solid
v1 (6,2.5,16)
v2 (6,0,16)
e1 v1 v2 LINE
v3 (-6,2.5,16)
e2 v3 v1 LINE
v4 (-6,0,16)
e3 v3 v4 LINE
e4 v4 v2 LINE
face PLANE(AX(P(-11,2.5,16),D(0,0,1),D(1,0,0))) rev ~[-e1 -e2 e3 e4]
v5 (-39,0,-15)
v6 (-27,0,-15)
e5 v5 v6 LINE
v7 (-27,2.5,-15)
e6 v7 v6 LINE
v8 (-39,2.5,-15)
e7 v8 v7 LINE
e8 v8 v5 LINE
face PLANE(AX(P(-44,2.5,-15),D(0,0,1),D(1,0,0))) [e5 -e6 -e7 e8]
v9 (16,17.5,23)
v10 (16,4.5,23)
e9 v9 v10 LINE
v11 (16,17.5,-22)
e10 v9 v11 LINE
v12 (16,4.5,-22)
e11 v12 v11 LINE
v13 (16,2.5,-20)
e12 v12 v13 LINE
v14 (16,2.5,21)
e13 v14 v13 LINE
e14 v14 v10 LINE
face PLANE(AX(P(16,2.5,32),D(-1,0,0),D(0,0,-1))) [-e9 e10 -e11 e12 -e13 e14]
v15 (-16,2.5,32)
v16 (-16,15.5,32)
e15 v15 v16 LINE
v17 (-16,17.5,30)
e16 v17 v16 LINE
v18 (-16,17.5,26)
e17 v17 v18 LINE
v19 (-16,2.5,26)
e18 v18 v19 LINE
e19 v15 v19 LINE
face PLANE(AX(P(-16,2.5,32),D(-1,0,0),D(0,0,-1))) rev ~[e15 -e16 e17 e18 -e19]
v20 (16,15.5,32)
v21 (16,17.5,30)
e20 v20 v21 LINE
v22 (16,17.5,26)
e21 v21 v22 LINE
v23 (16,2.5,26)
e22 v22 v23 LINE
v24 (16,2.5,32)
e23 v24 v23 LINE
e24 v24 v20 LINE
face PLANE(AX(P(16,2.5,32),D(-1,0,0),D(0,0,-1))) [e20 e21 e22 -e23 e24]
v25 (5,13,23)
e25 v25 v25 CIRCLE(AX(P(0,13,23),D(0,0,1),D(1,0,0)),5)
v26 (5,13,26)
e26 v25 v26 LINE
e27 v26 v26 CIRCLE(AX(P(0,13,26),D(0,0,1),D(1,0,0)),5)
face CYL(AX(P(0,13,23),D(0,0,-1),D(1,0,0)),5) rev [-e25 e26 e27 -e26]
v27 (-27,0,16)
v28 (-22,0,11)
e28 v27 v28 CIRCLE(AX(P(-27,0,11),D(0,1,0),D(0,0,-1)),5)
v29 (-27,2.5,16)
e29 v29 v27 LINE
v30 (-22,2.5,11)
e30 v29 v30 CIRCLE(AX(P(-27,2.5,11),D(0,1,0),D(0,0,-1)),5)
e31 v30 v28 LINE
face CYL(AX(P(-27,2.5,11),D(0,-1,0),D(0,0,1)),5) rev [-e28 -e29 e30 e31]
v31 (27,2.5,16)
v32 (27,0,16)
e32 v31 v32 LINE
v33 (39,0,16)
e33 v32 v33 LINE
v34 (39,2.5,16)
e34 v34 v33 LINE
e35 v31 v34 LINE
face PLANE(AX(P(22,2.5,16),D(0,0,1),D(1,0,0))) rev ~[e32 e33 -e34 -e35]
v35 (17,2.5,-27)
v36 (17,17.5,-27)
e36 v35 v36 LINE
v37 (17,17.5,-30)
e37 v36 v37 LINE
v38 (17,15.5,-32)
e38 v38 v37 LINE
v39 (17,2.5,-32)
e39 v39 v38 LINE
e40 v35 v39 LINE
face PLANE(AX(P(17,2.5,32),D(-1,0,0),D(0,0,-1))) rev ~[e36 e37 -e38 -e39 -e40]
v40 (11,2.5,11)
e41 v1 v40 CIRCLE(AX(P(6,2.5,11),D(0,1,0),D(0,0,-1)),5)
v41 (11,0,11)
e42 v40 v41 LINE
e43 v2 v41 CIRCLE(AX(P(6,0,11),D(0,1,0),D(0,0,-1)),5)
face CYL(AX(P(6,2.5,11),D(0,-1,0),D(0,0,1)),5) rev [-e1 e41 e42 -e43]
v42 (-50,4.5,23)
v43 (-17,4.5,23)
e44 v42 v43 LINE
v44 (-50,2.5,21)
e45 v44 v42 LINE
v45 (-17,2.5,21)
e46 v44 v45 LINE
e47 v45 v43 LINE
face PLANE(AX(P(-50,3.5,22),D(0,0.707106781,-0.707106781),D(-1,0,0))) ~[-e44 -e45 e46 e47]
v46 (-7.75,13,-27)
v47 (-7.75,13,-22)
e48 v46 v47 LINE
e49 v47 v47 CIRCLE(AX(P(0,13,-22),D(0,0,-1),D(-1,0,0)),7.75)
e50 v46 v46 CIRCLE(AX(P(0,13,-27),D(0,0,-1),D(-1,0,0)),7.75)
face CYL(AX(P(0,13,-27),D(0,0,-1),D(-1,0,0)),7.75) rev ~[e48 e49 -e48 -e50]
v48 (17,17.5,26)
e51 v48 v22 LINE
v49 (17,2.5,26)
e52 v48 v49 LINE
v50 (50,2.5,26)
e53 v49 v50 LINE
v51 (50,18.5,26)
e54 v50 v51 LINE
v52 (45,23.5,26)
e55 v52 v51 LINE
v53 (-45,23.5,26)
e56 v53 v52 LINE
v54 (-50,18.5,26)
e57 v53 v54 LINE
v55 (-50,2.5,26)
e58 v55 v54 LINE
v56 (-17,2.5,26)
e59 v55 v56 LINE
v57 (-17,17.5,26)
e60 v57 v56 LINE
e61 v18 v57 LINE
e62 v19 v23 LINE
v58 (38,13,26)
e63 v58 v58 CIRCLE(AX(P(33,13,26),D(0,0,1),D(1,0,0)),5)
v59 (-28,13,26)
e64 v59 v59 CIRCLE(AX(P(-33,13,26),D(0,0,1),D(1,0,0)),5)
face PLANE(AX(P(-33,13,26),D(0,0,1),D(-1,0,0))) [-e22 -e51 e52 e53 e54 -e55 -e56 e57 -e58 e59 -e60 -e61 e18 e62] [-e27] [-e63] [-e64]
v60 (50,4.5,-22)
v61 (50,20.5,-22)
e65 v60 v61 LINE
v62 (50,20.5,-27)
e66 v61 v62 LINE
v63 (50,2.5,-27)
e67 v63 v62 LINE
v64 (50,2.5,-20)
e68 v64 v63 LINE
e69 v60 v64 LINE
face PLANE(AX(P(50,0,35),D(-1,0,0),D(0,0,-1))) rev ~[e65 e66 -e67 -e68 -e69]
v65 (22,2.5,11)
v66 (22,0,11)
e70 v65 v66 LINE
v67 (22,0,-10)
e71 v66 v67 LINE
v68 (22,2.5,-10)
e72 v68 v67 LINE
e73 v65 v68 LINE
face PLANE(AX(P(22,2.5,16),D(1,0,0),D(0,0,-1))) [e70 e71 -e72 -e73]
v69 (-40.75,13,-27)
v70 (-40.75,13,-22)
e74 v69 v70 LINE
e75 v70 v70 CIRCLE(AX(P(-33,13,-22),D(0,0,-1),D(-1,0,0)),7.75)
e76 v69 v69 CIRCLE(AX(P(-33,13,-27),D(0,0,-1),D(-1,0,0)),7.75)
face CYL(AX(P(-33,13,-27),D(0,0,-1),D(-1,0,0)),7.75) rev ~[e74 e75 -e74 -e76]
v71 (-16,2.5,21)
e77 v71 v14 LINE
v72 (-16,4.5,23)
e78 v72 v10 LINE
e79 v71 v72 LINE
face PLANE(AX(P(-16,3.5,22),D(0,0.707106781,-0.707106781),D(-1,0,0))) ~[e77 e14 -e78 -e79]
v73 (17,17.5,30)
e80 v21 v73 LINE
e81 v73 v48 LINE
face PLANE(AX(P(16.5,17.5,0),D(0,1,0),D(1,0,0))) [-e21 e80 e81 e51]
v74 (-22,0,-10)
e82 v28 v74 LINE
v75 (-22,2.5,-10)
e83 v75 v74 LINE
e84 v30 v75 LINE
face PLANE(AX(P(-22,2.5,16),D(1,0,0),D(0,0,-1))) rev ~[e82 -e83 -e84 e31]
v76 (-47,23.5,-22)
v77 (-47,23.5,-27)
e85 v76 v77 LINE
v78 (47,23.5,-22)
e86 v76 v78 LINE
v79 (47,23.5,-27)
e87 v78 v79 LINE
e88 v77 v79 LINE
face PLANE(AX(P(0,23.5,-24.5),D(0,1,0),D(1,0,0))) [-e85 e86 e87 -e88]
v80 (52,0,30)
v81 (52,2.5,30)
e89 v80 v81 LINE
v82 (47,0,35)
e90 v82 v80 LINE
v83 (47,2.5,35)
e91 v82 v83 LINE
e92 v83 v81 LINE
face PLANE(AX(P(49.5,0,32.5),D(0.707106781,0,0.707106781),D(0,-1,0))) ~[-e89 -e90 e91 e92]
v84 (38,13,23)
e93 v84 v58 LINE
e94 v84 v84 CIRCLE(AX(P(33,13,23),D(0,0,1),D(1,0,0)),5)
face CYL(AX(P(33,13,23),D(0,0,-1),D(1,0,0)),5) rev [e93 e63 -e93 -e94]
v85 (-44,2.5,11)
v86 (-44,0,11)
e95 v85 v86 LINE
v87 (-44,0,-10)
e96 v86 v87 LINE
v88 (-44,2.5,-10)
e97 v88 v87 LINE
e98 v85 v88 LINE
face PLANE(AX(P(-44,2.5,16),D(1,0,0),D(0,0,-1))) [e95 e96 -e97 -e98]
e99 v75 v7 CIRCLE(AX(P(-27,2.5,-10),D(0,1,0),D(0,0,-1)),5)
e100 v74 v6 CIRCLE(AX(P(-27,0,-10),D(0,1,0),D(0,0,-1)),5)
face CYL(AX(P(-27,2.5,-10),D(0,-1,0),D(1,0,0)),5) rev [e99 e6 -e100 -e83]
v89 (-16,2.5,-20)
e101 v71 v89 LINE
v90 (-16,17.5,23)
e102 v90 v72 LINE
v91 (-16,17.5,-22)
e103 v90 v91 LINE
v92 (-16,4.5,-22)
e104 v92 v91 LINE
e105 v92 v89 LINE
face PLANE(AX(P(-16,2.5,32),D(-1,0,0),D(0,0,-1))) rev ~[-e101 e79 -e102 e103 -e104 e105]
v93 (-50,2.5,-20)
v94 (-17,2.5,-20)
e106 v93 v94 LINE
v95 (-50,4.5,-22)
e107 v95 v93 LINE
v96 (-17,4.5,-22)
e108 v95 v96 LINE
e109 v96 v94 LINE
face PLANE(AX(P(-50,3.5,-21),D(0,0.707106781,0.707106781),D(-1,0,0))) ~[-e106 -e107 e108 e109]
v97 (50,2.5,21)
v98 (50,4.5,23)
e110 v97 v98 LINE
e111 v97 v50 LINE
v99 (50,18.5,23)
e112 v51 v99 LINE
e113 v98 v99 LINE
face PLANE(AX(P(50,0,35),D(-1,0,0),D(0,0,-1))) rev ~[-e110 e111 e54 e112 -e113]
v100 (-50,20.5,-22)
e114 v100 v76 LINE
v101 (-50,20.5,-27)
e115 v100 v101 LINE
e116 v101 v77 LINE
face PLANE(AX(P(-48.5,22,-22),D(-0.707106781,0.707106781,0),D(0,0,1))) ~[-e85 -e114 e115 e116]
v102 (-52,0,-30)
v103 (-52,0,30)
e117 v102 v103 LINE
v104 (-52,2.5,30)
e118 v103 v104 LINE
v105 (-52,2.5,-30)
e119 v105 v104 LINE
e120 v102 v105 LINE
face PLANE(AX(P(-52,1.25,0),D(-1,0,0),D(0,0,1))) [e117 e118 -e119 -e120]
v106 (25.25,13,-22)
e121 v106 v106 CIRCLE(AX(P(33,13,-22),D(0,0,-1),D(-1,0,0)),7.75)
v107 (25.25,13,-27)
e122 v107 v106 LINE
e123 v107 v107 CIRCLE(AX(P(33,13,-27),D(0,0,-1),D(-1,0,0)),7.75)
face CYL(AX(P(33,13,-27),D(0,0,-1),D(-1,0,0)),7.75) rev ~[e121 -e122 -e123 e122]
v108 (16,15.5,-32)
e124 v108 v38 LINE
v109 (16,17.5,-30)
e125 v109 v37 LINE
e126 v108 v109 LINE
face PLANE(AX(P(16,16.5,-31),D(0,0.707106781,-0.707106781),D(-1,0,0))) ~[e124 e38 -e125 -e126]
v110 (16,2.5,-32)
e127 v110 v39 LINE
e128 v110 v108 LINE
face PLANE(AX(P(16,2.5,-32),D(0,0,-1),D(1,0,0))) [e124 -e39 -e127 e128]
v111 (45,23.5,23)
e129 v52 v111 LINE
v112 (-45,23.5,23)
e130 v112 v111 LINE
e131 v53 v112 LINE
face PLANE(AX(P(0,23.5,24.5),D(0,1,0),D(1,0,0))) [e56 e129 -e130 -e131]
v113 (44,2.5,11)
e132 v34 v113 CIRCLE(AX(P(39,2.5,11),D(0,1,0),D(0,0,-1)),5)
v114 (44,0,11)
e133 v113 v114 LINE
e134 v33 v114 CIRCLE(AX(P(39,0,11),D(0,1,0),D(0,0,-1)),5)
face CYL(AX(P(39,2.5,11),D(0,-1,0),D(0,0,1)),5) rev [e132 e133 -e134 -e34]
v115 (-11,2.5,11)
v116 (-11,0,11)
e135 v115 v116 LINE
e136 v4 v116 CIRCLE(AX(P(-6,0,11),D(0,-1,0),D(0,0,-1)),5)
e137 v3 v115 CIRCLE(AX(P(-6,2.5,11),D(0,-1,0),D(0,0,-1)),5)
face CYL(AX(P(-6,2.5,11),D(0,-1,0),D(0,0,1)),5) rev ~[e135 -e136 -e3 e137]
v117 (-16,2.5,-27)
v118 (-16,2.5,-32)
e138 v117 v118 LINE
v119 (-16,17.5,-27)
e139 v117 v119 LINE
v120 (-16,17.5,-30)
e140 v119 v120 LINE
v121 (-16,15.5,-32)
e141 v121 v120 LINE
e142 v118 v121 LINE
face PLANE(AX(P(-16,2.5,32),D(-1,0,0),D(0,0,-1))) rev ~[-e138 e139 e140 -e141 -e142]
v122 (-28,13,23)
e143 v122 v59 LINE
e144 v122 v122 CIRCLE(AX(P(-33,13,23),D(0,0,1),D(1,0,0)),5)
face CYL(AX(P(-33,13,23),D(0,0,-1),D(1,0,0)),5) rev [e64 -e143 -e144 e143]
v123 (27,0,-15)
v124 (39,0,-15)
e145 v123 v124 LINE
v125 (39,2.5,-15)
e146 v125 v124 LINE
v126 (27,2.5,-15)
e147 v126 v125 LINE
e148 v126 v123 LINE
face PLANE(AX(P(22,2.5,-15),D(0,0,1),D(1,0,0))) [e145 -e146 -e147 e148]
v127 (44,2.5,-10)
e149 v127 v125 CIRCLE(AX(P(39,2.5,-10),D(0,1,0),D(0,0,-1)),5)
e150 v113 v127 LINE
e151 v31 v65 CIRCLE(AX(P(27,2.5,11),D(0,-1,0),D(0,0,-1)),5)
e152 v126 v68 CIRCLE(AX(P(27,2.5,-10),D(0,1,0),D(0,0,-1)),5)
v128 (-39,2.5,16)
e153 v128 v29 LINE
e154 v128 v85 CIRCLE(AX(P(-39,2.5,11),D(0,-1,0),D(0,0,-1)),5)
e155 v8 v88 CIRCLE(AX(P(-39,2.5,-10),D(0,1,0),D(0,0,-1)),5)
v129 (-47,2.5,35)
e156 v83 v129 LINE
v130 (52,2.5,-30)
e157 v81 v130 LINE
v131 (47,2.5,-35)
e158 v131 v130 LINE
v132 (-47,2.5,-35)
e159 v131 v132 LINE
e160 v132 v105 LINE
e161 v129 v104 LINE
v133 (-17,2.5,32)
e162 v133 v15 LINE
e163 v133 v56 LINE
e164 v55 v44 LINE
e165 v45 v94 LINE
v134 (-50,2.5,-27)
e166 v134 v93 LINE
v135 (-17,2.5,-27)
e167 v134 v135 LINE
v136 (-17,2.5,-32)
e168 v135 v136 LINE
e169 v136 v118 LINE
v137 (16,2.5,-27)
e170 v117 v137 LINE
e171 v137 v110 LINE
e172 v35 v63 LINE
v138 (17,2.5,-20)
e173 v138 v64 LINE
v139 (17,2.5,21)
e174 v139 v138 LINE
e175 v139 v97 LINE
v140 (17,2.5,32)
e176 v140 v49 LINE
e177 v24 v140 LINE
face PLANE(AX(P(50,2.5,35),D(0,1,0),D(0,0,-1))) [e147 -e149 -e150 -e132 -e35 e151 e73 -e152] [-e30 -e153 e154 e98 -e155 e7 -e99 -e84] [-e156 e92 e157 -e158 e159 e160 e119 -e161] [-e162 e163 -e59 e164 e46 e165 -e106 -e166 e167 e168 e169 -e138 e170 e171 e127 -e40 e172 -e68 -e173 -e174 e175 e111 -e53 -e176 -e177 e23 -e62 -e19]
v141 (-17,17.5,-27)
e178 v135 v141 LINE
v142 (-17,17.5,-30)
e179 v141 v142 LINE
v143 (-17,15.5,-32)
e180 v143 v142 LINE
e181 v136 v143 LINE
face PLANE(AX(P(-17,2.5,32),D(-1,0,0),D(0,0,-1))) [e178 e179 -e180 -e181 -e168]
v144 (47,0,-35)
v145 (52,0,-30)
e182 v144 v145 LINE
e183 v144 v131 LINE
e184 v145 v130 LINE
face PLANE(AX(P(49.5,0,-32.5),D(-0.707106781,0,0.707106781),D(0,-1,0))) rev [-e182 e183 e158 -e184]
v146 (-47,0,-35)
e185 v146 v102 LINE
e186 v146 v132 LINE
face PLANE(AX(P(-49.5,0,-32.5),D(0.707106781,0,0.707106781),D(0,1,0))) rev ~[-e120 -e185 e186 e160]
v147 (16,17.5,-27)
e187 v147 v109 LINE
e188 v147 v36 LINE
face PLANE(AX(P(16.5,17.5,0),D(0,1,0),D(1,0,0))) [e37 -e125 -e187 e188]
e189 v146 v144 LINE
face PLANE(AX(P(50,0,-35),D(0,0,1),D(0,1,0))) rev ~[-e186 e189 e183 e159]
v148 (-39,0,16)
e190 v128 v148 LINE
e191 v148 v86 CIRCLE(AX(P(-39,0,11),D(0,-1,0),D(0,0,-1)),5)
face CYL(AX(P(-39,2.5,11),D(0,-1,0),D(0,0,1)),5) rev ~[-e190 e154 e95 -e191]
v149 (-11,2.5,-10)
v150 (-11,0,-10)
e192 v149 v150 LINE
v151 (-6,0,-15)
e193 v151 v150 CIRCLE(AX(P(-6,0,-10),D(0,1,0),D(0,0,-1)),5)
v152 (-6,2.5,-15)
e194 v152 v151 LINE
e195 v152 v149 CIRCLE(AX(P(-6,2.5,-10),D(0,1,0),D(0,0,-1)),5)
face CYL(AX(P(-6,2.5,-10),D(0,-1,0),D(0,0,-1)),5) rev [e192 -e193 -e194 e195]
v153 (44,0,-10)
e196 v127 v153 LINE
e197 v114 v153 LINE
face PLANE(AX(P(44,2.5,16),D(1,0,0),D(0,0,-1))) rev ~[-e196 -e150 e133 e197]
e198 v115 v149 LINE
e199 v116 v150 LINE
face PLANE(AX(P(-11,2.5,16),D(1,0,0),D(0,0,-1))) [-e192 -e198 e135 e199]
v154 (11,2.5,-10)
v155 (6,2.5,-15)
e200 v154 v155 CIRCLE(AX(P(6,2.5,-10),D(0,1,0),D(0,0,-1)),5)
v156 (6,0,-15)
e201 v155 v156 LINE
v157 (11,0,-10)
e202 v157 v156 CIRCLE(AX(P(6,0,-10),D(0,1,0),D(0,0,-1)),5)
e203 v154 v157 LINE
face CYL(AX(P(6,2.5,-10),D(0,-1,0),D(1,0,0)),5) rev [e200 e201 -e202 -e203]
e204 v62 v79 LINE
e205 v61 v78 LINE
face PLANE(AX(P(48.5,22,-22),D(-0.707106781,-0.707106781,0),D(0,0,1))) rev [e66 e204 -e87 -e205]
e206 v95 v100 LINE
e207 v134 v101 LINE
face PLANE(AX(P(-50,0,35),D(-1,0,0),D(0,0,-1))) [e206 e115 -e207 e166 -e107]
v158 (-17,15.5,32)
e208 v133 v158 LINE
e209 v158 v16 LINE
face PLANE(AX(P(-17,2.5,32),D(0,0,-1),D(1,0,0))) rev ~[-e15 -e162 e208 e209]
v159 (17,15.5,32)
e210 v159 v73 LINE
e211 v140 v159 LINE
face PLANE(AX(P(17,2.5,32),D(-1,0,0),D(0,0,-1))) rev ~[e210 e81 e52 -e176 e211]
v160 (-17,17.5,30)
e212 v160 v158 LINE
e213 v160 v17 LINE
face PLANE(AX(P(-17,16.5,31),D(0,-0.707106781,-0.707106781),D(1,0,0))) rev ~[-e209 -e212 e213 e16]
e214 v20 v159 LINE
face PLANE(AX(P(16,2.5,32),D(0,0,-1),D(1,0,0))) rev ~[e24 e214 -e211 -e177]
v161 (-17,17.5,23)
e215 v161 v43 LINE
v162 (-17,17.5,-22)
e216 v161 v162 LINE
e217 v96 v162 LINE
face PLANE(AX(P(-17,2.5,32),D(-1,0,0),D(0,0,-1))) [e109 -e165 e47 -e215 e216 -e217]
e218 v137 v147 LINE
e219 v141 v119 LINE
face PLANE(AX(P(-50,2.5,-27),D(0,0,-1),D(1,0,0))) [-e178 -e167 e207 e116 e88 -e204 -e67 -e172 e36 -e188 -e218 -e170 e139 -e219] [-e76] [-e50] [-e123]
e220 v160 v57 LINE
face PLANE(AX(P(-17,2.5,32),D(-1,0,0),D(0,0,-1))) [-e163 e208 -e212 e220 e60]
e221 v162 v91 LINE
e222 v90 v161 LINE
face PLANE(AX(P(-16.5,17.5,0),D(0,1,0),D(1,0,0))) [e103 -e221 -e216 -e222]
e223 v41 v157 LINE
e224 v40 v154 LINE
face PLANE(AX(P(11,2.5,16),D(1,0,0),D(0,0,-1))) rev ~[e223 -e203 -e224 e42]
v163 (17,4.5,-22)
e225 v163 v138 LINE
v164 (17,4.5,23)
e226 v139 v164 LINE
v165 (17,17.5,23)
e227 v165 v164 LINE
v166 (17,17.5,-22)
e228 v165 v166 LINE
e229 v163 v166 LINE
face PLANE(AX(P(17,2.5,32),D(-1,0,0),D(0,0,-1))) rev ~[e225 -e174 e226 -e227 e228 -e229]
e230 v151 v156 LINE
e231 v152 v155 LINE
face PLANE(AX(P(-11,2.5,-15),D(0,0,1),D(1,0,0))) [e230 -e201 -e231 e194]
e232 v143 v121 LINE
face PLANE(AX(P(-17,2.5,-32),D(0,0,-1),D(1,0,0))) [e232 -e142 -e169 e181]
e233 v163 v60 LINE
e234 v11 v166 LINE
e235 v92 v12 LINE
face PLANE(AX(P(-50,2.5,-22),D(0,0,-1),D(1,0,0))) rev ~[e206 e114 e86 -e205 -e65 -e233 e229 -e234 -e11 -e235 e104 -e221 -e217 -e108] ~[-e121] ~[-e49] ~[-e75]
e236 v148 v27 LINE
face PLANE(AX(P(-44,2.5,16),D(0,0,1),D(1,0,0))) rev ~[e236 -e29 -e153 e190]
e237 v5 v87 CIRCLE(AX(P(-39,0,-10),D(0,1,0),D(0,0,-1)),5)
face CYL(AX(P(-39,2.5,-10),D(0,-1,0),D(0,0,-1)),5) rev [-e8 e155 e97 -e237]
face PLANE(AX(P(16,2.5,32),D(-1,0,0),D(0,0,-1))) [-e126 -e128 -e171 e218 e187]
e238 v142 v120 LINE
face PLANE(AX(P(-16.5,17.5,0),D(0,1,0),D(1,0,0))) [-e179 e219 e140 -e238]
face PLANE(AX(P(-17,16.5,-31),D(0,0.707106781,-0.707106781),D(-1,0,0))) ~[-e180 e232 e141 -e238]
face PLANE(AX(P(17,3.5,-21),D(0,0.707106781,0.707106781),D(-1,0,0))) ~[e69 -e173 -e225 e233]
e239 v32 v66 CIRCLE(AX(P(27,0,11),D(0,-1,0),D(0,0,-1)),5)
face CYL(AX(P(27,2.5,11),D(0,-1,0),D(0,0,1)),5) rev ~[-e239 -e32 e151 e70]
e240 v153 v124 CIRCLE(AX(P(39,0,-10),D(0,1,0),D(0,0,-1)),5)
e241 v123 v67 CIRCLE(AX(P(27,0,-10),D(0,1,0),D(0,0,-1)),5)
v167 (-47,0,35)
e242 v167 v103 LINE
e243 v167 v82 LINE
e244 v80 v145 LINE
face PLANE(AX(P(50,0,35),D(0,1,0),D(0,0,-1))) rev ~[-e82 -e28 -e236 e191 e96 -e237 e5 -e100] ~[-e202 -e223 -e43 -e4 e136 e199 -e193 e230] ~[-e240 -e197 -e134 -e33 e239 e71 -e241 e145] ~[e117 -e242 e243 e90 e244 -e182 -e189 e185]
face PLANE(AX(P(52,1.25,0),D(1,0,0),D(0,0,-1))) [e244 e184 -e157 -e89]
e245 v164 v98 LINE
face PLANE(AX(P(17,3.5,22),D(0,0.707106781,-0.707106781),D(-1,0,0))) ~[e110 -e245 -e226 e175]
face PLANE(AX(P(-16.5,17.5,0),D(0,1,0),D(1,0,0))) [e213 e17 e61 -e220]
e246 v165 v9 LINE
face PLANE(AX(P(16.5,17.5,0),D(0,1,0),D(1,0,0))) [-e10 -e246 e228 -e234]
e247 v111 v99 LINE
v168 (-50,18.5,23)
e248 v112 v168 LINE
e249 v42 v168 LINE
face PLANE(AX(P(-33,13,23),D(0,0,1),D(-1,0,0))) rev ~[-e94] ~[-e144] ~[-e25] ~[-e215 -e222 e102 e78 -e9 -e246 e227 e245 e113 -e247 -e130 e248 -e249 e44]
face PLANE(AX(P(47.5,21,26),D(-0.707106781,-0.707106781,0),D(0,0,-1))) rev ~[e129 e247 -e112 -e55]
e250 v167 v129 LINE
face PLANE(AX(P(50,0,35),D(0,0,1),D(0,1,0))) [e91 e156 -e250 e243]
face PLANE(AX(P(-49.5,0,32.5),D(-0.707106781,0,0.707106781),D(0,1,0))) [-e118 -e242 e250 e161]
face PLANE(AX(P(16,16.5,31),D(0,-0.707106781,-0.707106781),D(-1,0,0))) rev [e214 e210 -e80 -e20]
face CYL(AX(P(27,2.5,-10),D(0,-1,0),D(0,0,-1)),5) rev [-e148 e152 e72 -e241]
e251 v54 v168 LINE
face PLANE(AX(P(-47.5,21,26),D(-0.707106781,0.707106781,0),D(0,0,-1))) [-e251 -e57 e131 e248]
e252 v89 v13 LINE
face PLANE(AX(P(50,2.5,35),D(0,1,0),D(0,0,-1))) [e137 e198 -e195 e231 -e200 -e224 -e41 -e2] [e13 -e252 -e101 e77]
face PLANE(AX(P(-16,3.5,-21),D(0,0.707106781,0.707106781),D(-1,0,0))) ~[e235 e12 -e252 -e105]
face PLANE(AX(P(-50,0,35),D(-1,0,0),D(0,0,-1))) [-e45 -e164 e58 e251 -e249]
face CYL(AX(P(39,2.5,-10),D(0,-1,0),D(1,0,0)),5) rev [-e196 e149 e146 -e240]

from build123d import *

# Parameters (mm, degrees)
SKETCH1_W           = 100
SKETCH1_H           = 70
BOSS_EXTRUDE1_DEPTH = 2.5
SKETCH2_W           = 100
SKETCH2_H           = 5
SKETCH2_H_2         = 3
BOSS_EXTRUDE2_DEPTH = 21
SKETCH3_R           = 7.75
CUT_EXTRUDE1_DEPTH  = 61
BOSS_EXTRUDE3_START = -3
SKETCH4_R           = 7.75
SKETCH4_R_2         = 5
BOSS_EXTRUDE3_DEPTH = 3
SKETCH5_W           = 70
SKETCH5_H           = 2.5
BOSS_EXTRUDE4_DEPTH = 2
SKETCH6_W           = 70
SKETCH6_H           = 2.5
BOSS_EXTRUDE5_DEPTH = 2
CHAMFER1_SIZE       = 5
SKETCH9_W           = 1
SKETCH9_H           = 64
BOSS_EXTRUDE8_DEPTH = 15
CHAMFER3_SIZE       = 2
CHAMFER4_SIZE       = 3
CHAMFER5_SIZE       = 2
SKETCH11_W          = 22
SKETCH11_H          = 31
CUT_EXTRUDE2_DEPTH  = 10
FILLET1_R           = 5


with BuildPart() as part:
    # Sketch1 → Boss-Extrude1 (new body)
    with BuildSketch(Plane(origin=(0, 0, 0), x_dir=(1, 0, 0), z_dir=(0, 1, 0))):
        Rectangle(SKETCH1_W, SKETCH1_H)
    extrude(amount=BOSS_EXTRUDE1_DEPTH)

    # Sketch2 → Boss-Extrude2 (add)
    with BuildSketch(Plane(origin=(0, 2.5, 0), x_dir=(1, 0, 0), z_dir=(0, 1, 0))):
        with Locations((0, 24.5)):
            Rectangle(SKETCH2_W, SKETCH2_H)
        with Locations((0, -24.5)):
            Rectangle(SKETCH2_W, SKETCH2_H_2)
    extrude(amount=BOSS_EXTRUDE2_DEPTH)

    # Sketch3 → Cut-Extrude1 (cut)
    with BuildSketch(Plane(origin=(0, 0, -27), x_dir=(-1, 0, 0), z_dir=(0, 0, -1))):
        with Locations((-33, 13)):
            Circle(SKETCH3_R)
        with Locations((0, 13)):
            Circle(SKETCH3_R)
        with Locations((33, 13)):
            Circle(SKETCH3_R)
    extrude(amount=-CUT_EXTRUDE1_DEPTH, mode=Mode.SUBTRACT)

    # Sketch4 → Boss-Extrude3 (add)
    # profile 1 of 3: a face of its own
    with BuildSketch(Plane.XY.offset(26).offset(BOSS_EXTRUDE3_START)):
        with Locations(Location((-33, 13, 0), (0, 0, 180))):
            Circle(SKETCH4_R)
        with Locations((-33, 13)):
            Circle(SKETCH4_R_2, mode=Mode.SUBTRACT)
    # profile 2 of 3: a face of its own
    with BuildSketch(Plane.XY.offset(26).offset(BOSS_EXTRUDE3_START)):
        with Locations(Location((0, 13, 0), (0, 0, 180))):
            Circle(SKETCH4_R)
        with Locations((0, 13)):
            Circle(SKETCH4_R_2, mode=Mode.SUBTRACT)
    # profile 3 of 3: a face of its own
    with BuildSketch(Plane.XY.offset(26).offset(BOSS_EXTRUDE3_START)):
        with Locations(Location((33, 13, 0), (0, 0, 180))):
            Circle(SKETCH4_R)
        with Locations((33, 13)):
            Circle(SKETCH4_R_2, mode=Mode.SUBTRACT)
    extrude(amount=BOSS_EXTRUDE3_DEPTH)

    # Sketch5 → Boss-Extrude4 (add)
    with BuildSketch(Plane.ZY.offset(50)):
        with Locations((0, 1.25)):
            Rectangle(SKETCH5_W, SKETCH5_H)
    extrude(amount=BOSS_EXTRUDE4_DEPTH)

    # Sketch6 → Boss-Extrude5 (add)
    with BuildSketch(Plane(origin=(50, 0, 0), x_dir=(0, 0, -1), z_dir=(1, 0, 0))):
        with Locations((0, 1.25)):
            Rectangle(SKETCH6_W, SKETCH6_H)
    extrude(amount=BOSS_EXTRUDE5_DEPTH)

    # Chamfer1
    chamfer1_edges = [part.edges().sort_by_distance(p)[0] for p in [
        (52, 1.25, -35),
        (52, 1.25, 35),
        (-50, 23.5, 24.5),
        (50, 23.5, 24.5),
        (-52, 1.25, -35),
        (-52, 1.25, 35),
    ]]
    chamfer(chamfer1_edges, length=CHAMFER1_SIZE)

    # Sketch9 → Boss-Extrude8 (add)
    with BuildSketch(Plane(origin=(0, 2.5, 0), x_dir=(1, 0, 0), z_dir=(0, 1, 0))):
        with Locations((-16.5, 0)):
            Rectangle(SKETCH9_W, SKETCH9_H)
        with Locations((16.5, 0)):
            Rectangle(SKETCH9_W, SKETCH9_H)
    extrude(amount=BOSS_EXTRUDE8_DEPTH)

    # Chamfer3
    chamfer3_edges = [part.edges().sort_by_distance(p)[0] for p in [
        (-16.5, 17.5, -32),
        (-16.5, 17.5, 32),
        (16.5, 17.5, -32),
        (16.5, 17.5, 32),
    ]]
    chamfer(chamfer3_edges, length=CHAMFER3_SIZE)

    # Chamfer4
    chamfer4_edges = [part.edges().sort_by_distance(p)[0] for p in [
        (-50, 23.5, -24.5),
        (50, 23.5, -24.5),
    ]]
    chamfer(chamfer4_edges, length=CHAMFER4_SIZE)

    # Chamfer5
    chamfer5_edges = [part.edges().sort_by_distance(p)[0] for p in [
        (-33.5, 2.5, -22),
        (-33.5, 2.5, 23),
        (0, 2.5, -22),
        (0, 2.5, 23),
        (33.5, 2.5, -22),
        (33.5, 2.5, 23),
    ]]
    chamfer(chamfer5_edges, length=CHAMFER5_SIZE)

    # Sketch11 → Cut-Extrude2 (cut)
    with BuildSketch(Plane(origin=(0, 2.5, 0), x_dir=(1, 0, 0), z_dir=(0, 1, 0))):
        with Locations((0, -0.5)):
            Rectangle(SKETCH11_W, SKETCH11_H)
        with Locations((-33, -0.5)):
            Rectangle(SKETCH11_W, SKETCH11_H)
        with Locations((33, -0.5)):
            Rectangle(SKETCH11_W, SKETCH11_H)
    extrude(amount=-CUT_EXTRUDE2_DEPTH, mode=Mode.SUBTRACT)

    # Fillet1
    fillet1_edges = [part.edges().sort_by_distance(p)[0] for p in [
        (-11, 1.25, 16),
        (-11, 1.25, -15),
        (11, 1.25, -15),
        (11, 1.25, 16),
        (-22, 1.25, -15),
        (-22, 1.25, 16),
        (-44, 1.25, 16),
        (-44, 1.25, -15),
        (22, 1.25, 16),
        (22, 1.25, -15),
        (44, 1.25, -15),
        (44, 1.25, 16),
    ]]
    fillet(fillet1_edges, radius=FILLET1_R)


solid = part.part
